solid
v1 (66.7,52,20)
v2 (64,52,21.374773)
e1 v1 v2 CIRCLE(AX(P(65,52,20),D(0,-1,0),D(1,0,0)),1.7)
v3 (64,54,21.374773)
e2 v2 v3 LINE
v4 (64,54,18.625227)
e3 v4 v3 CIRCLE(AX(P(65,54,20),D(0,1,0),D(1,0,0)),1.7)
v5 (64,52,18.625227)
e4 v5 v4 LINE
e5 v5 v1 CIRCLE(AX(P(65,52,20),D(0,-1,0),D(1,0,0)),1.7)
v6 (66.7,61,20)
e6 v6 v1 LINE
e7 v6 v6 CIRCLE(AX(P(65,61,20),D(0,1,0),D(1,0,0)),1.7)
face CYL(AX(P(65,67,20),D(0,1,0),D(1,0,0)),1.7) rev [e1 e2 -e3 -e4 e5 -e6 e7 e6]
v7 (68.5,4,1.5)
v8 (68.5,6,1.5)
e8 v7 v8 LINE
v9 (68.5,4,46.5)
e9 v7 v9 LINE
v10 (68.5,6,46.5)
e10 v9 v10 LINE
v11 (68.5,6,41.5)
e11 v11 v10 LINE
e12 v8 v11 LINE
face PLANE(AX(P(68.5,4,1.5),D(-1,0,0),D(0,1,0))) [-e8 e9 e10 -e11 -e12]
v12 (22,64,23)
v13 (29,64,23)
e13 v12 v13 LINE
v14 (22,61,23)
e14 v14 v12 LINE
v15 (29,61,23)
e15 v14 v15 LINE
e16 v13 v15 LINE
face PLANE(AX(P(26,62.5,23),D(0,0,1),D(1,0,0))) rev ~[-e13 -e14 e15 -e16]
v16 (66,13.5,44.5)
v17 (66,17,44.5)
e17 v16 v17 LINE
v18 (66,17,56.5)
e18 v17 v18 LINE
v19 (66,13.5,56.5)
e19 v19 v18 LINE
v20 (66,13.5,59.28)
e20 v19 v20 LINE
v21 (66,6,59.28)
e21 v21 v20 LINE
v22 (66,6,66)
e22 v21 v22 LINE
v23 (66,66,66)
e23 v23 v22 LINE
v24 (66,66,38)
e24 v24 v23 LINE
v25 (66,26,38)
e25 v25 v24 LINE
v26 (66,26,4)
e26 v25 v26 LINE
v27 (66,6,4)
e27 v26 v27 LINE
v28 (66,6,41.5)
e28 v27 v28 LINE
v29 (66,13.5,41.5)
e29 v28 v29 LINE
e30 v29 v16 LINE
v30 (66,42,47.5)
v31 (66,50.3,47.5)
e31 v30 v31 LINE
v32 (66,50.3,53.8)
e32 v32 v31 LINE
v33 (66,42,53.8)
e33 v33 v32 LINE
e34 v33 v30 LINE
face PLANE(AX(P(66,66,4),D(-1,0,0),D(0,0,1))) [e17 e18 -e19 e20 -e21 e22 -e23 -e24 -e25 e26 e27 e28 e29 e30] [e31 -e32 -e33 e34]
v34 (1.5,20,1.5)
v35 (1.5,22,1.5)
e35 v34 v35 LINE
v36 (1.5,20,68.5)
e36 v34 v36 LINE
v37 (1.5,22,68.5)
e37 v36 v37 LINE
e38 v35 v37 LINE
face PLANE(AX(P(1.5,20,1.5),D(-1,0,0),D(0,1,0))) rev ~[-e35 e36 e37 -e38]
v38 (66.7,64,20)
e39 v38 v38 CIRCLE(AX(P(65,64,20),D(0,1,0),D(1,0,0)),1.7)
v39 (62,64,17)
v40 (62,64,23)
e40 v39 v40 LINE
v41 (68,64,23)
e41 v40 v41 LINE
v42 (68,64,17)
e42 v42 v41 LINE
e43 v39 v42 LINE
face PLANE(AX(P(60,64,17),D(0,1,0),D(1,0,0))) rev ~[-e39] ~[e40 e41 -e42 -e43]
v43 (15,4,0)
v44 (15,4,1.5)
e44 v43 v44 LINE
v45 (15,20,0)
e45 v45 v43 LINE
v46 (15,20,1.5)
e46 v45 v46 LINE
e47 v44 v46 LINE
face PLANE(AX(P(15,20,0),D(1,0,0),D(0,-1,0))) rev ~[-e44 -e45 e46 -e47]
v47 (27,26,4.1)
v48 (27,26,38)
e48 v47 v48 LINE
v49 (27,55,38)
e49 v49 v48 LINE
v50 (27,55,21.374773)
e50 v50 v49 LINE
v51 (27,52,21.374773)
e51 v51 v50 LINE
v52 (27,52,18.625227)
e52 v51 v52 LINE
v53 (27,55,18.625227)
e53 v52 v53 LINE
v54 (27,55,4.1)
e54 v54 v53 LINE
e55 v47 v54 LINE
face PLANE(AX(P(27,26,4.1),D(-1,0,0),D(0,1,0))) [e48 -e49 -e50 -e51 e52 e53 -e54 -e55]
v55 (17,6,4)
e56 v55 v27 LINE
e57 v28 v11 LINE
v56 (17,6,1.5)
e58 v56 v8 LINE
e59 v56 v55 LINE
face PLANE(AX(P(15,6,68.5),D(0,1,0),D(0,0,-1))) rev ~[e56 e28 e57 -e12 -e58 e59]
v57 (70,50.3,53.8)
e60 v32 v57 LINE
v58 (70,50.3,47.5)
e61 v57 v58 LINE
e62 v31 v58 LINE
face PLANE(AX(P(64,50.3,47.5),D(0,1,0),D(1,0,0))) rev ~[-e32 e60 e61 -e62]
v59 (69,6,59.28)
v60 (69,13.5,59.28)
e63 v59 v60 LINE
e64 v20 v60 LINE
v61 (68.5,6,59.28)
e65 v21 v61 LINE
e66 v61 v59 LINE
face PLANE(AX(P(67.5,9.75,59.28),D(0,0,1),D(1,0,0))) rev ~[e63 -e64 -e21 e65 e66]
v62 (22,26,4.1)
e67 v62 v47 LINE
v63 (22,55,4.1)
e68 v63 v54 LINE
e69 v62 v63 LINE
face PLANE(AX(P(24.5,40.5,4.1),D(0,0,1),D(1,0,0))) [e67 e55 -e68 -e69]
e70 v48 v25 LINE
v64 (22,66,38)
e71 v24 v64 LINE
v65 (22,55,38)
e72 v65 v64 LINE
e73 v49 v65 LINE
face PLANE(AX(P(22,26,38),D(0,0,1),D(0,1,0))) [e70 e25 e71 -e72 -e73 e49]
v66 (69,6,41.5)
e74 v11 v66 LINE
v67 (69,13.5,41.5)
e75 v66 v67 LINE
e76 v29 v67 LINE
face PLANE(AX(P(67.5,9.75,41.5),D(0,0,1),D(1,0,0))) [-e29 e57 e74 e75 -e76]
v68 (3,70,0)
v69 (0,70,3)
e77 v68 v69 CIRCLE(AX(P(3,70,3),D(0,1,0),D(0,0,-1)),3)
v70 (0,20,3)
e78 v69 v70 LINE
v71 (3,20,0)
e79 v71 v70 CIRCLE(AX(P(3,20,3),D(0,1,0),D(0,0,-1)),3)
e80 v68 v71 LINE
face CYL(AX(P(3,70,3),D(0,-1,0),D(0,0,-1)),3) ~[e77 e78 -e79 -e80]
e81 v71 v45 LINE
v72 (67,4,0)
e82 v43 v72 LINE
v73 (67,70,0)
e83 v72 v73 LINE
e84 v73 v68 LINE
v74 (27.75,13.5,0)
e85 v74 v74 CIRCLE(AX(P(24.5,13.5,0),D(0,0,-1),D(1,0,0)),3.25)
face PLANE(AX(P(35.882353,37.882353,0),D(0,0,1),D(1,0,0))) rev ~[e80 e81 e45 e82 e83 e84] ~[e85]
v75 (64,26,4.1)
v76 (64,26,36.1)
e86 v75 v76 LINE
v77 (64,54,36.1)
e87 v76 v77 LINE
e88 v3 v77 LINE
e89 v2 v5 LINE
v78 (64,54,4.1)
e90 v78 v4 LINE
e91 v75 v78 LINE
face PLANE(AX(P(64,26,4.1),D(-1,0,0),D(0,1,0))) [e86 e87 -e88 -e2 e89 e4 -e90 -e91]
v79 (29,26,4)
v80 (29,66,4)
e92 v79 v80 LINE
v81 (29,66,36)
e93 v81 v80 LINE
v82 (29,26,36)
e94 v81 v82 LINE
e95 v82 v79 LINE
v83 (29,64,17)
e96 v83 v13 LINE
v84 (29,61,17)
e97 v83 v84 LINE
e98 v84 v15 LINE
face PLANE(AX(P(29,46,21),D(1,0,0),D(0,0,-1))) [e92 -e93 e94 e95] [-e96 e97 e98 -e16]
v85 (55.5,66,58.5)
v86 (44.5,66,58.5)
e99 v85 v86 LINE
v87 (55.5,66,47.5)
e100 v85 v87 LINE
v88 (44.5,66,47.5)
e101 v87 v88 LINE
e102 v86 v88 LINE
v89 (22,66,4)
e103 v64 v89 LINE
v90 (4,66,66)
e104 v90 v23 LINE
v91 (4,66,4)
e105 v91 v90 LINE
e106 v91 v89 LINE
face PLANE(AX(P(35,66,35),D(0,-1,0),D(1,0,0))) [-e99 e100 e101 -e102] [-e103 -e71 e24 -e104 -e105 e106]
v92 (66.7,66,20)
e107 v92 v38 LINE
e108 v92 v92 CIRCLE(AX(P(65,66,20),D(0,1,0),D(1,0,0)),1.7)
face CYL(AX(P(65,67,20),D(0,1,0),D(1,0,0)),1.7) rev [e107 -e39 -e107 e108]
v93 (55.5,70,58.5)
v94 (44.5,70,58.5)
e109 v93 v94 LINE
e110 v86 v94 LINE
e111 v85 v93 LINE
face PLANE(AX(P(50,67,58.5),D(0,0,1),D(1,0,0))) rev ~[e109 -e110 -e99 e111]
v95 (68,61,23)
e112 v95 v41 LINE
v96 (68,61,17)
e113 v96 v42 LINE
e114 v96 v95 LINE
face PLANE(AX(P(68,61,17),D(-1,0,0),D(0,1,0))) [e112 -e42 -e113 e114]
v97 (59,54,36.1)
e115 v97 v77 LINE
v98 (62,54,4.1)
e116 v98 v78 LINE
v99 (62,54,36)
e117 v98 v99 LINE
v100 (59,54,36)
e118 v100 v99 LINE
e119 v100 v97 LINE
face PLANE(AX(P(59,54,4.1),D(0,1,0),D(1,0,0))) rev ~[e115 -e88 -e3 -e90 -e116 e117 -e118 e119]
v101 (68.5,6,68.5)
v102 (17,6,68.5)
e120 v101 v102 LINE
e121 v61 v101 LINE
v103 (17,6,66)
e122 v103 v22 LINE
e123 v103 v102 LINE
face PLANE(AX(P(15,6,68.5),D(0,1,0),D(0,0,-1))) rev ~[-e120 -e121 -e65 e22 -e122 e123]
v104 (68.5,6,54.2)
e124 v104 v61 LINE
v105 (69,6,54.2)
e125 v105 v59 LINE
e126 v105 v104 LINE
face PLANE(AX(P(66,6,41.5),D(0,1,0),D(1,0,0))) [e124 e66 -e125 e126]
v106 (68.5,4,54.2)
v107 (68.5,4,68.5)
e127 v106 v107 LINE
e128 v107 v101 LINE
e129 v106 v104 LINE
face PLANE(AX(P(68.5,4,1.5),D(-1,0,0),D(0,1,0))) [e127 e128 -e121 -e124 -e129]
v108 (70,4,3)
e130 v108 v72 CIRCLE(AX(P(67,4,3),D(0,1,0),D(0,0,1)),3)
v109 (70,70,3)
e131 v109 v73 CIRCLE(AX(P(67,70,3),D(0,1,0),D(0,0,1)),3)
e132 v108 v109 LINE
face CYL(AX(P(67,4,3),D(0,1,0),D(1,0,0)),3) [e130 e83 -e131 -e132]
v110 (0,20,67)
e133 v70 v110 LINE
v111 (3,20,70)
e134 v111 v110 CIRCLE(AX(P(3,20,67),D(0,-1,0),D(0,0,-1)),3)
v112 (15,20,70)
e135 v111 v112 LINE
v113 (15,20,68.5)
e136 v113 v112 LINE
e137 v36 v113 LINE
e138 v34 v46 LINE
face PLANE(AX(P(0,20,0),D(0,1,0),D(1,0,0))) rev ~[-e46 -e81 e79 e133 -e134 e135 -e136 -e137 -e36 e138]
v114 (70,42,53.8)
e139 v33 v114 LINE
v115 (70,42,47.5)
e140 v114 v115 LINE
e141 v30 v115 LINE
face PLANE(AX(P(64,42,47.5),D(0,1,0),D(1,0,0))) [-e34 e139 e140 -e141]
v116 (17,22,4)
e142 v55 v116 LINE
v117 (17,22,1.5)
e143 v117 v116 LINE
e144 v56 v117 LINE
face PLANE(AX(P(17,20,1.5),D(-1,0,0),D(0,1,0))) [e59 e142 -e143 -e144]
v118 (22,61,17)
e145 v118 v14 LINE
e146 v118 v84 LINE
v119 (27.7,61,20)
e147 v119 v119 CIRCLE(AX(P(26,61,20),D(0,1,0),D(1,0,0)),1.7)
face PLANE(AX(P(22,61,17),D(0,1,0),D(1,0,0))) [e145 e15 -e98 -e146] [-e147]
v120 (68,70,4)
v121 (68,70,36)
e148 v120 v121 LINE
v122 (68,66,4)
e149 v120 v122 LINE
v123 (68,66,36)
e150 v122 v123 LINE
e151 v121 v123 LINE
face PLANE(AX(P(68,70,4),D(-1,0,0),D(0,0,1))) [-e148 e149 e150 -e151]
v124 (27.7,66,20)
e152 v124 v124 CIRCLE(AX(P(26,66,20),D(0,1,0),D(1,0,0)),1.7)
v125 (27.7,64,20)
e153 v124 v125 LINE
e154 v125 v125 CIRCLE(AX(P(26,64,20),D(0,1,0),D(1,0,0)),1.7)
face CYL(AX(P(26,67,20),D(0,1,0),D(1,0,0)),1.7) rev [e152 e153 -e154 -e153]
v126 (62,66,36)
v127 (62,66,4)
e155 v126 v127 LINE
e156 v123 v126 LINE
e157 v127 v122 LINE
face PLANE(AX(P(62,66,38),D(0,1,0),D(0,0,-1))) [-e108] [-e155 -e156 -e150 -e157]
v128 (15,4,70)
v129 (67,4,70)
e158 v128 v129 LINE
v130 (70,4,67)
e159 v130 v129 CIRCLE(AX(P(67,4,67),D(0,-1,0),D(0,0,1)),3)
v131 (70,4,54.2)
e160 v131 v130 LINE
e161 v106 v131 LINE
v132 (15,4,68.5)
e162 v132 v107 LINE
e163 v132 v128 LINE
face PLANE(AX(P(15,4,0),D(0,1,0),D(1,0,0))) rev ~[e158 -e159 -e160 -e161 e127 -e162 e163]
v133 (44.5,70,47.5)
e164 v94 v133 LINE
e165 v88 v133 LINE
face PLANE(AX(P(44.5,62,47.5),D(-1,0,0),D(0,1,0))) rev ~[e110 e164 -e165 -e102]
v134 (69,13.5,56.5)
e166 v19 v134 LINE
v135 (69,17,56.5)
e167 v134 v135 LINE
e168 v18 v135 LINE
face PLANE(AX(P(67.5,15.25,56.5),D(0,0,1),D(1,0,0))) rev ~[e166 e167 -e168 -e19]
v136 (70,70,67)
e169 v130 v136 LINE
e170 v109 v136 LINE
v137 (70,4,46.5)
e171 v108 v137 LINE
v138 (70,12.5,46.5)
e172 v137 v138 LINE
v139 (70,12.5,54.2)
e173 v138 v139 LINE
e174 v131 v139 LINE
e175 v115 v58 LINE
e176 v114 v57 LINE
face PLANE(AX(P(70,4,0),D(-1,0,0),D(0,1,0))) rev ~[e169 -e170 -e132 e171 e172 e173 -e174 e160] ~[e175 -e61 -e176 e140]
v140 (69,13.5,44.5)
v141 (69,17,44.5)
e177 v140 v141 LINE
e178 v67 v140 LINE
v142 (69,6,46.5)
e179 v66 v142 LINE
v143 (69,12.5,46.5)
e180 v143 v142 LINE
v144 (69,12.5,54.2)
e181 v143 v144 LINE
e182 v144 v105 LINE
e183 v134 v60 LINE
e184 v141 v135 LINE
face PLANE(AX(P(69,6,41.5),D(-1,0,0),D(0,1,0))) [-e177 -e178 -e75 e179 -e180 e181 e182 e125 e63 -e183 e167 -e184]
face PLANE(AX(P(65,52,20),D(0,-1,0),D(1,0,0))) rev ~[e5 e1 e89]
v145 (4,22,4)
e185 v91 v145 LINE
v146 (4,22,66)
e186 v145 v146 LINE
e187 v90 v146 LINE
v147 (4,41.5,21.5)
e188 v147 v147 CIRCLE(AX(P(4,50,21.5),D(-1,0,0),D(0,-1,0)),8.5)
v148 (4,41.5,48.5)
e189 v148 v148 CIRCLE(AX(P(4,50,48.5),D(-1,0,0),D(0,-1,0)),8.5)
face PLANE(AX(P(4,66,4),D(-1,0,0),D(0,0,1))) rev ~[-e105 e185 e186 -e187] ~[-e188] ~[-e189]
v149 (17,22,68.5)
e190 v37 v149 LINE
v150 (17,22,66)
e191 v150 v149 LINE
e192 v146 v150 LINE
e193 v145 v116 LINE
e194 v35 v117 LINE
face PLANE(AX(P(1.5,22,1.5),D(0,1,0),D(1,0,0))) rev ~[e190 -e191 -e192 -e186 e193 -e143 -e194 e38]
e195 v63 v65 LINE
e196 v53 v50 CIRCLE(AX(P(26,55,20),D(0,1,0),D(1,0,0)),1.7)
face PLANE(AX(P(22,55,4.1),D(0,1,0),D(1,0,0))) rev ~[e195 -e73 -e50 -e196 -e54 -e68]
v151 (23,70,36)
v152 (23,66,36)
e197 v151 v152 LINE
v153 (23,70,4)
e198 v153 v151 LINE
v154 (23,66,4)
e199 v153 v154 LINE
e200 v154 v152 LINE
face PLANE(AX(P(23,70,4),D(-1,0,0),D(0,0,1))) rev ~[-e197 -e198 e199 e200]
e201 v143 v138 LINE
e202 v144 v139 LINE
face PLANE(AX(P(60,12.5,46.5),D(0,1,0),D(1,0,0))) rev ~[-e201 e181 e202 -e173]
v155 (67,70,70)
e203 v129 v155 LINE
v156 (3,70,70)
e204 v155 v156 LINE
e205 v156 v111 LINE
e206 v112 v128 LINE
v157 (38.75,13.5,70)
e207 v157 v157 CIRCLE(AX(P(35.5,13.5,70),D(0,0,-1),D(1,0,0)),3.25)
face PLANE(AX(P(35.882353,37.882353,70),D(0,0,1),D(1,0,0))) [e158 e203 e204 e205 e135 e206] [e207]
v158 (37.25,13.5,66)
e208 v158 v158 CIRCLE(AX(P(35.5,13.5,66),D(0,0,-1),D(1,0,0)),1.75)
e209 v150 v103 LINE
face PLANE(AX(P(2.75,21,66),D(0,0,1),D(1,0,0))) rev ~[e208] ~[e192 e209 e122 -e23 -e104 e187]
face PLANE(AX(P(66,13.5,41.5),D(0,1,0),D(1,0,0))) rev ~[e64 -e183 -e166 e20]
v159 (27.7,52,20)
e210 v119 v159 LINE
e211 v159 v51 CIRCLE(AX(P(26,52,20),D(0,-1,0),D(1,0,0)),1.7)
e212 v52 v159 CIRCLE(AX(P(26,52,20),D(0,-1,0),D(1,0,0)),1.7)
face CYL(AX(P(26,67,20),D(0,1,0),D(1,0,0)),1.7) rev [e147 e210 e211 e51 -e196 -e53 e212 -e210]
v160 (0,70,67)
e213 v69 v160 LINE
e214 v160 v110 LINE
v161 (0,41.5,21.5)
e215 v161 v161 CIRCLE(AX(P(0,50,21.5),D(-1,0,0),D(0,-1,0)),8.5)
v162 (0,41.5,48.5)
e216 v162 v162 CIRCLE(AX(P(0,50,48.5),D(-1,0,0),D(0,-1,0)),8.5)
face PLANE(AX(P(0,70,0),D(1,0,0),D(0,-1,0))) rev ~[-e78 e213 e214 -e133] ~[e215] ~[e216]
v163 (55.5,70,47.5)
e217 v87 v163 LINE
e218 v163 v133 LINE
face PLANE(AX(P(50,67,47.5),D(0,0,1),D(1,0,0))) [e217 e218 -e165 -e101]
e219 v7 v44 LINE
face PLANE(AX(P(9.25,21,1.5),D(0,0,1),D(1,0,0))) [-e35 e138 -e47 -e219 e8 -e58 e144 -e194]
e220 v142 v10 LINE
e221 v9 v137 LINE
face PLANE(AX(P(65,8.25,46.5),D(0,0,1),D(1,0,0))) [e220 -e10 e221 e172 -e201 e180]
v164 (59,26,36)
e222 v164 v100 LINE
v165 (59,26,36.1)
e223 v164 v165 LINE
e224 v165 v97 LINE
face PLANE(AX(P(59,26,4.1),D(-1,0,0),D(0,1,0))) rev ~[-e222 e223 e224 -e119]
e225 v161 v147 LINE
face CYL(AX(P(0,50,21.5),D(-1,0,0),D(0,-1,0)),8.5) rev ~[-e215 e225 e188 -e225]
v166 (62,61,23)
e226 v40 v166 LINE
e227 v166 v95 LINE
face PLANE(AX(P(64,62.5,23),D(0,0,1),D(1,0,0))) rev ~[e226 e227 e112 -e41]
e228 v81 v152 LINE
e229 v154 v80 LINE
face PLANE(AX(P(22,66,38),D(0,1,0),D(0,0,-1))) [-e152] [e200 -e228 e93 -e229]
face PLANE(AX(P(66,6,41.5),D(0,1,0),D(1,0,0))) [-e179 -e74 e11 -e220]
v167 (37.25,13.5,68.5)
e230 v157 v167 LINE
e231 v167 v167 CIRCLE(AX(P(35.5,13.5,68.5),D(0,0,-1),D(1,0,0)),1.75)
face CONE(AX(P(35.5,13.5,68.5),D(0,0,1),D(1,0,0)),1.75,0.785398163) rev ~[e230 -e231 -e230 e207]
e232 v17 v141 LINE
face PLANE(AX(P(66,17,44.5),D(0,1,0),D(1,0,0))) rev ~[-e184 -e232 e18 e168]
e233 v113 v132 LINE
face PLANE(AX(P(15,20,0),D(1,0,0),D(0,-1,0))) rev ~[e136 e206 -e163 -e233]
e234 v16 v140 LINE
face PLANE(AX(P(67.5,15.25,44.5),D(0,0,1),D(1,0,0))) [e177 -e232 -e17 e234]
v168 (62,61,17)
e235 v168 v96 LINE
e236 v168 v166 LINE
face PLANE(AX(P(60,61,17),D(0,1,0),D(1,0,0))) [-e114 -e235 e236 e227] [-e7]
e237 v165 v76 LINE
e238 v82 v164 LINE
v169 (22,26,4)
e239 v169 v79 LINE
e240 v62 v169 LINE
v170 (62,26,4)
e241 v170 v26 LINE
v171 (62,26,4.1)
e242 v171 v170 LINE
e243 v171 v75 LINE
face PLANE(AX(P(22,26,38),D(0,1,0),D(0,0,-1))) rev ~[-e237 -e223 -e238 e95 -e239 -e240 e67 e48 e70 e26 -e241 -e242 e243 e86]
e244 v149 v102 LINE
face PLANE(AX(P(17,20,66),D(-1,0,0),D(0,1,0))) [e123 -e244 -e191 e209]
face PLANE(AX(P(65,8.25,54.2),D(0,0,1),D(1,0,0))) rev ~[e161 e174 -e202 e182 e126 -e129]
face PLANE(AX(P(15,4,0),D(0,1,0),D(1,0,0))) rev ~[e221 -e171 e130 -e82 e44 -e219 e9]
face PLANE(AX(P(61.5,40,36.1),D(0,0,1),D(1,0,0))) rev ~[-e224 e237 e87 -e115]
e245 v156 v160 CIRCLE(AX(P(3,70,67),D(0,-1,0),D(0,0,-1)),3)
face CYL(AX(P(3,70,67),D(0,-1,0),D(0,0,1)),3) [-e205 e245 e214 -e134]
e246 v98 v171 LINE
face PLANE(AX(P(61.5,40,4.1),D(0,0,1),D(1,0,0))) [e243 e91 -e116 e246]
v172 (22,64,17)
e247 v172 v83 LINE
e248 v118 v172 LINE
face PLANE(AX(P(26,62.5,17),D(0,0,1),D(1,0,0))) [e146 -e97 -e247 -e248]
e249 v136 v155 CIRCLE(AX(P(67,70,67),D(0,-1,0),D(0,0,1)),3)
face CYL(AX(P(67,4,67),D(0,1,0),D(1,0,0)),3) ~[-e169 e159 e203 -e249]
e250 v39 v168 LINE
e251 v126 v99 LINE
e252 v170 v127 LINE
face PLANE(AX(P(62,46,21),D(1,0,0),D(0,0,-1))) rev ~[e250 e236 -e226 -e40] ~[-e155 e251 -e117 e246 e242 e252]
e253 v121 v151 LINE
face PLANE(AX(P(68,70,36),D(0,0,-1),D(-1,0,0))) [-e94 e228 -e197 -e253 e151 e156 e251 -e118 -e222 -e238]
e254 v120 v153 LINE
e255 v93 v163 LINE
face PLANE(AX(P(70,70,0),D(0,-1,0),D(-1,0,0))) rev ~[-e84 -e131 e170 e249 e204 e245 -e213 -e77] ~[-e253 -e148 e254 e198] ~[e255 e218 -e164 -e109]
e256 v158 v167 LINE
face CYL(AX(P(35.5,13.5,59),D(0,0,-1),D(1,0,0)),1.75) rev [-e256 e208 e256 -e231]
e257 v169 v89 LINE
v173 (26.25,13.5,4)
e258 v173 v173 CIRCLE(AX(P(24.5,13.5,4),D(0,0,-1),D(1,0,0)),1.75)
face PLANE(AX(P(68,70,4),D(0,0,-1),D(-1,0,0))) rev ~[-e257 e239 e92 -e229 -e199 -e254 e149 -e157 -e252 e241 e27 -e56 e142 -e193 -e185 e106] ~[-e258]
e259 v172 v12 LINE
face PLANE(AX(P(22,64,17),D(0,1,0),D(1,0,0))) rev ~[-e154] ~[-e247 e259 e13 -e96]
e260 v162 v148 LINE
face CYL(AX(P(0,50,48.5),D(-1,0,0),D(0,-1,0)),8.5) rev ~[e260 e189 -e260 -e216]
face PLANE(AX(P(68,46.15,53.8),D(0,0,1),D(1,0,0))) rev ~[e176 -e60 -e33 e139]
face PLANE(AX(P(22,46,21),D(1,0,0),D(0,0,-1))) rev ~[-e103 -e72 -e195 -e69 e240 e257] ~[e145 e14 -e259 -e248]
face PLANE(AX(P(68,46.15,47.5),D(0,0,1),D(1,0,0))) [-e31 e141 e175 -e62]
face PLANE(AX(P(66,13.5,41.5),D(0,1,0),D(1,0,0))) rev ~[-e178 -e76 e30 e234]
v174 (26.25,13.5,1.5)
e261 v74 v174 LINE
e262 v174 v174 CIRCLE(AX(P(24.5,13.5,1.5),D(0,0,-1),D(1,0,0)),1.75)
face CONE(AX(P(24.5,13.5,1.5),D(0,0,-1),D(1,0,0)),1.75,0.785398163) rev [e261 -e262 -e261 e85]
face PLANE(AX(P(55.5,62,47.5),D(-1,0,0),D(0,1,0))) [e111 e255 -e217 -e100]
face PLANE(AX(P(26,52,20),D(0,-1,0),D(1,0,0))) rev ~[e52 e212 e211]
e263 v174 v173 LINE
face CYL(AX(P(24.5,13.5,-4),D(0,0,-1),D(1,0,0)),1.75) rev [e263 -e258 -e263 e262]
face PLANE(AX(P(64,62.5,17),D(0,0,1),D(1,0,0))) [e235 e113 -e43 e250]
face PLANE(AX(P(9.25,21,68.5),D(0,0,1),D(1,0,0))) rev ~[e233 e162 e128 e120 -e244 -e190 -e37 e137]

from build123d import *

# Parameters (mm, degrees)
BOX079_W               = 5
BOX079_H               = 29
BOX079_DEPTH           = 34
BOX078_W               = 5
BOX078_H               = 28
BOX078_DEPTH           = 32
BOX077_W               = 8
BOX077_H               = 8.3
BOX077_DEPTH           = 6.3
BOX075_W               = 11
BOX075_H               = 10
BOX075_DEPTH           = 11
BOX066_W               = 3
BOX066_H               = 3.5
BOX066_DEPTH           = 12
BOX065_W               = 3
BOX065_H               = 7.5
BOX065_DEPTH           = 17.78
BOX064_W               = 10
BOX064_H               = 8.5
BOX064_DEPTH           = 7.7
CYLINDER036_R          = 1.75
CYLINDER036_DEPTH      = 15
CYLINDER035_R          = 1.75
CYLINDER035_DEPTH      = 15
BOX035_W               = 8
BOX035_H               = 3
BOX035_DEPTH           = 6
BOX034_W               = 8
BOX034_H               = 3
BOX034_DEPTH           = 6
CYLINDER016_R          = 1.7
CYLINDER016_DEPTH      = 15
CYLINDER016_ROLL_ANGLE = 90
CYLINDER015_R          = 1.7
CYLINDER015_DEPTH      = 15
CYLINDER015_ROLL_ANGLE = 90
BOX031_W               = 39
BOX031_H               = 40
BOX031_DEPTH           = 2
BOX032_W               = 34
BOX032_H               = 40
BOX032_DEPTH           = 7
BOX032_PITCH_ANGLE     = 90
BOX033_W               = 34
BOX033_H               = 40
BOX033_DEPTH           = 4
BOX033_PITCH_ANGLE     = 90
BOX028_W               = 15.5
BOX028_H               = 2
BOX028_DEPTH           = 2.5
BOX027_W               = 15.5
BOX027_H               = 2
BOX027_DEPTH           = 2.5
BOX026_W               = 2
BOX026_H               = 2.5
BOX026_DEPTH           = 14
BOX026_ROLL_ANGLE      = 90
BOX025_W               = 2
BOX025_H               = 2.5
BOX025_DEPTH           = 14
BOX025_ROLL_ANGLE      = 90
BOX024_W               = 2.5
BOX024_H               = 2
BOX024_DEPTH           = 51
BOX024_PITCH_ANGLE     = 90
BOX023_W               = 2.5
BOX023_H               = 2
BOX023_DEPTH           = 51
BOX023_PITCH_ANGLE     = 90
BOX022_W               = 2.5
BOX022_H               = 2
BOX022_DEPTH           = 62
BOX021_W               = 2.5
BOX021_H               = 2
BOX021_DEPTH           = 67
BOX020_W               = 62
BOX020_H               = 62
BOX020_DEPTH           = 62
BOX020_ROLL_ANGLE      = 90
PAD005_DEPTH           = 70
SKETCH010_R            = 8.5
POCKET002004_DEPTH     = 5
SKETCH011_W            = 45
SKETCH011_H            = 32
POCKET002005_DEPTH     = 4
FILLET_R               = 3
CHAMFER007_SIZE        = 1.5


with BuildPart() as cube078:
    # Box079 → Box079 (new body)
    with BuildSketch(Plane(origin=(22, 26, 4.1), x_dir=(1, 0, 0), z_dir=(0, 0, 1))):
        with Locations((2.5, 14.5)):
            Rectangle(BOX079_W, BOX079_H)
    extrude(amount=BOX079_DEPTH)


with BuildPart() as cube077:
    # Box078 → Box078 (new body)
    with BuildSketch(Plane(origin=(59, 26, 4.1), x_dir=(1, 0, 0), z_dir=(0, 0, 1))):
        with Locations((2.5, 14)):
            Rectangle(BOX078_W, BOX078_H)
    extrude(amount=BOX078_DEPTH)


with BuildPart() as cube076:
    # Box077 → Box077 (new body)
    with BuildSketch(Plane(origin=(64, 42, 47.5), x_dir=(1, 0, 0), z_dir=(0, 0, 1))):
        with Locations((4, 4.15)):
            Rectangle(BOX077_W, BOX077_H)
    extrude(amount=BOX077_DEPTH)


with BuildPart() as cube074:
    # Box075 → Box075 (new body)
    with BuildSketch(Plane(origin=(44.5, 62, 47.5), x_dir=(1, 0, 0), z_dir=(0, 0, 1))):
        with Locations((5.5, 5)):
            Rectangle(BOX075_W, BOX075_H)
    extrude(amount=BOX075_DEPTH)


with BuildPart() as cube065:
    # Box066 → Box066 (new body)
    with BuildSketch(Plane(origin=(66, 13.5, 44.5), x_dir=(1, 0, 0), z_dir=(0, 0, 1))):
        with Locations((1.5, 1.75)):
            Rectangle(BOX066_W, BOX066_H)
    extrude(amount=BOX066_DEPTH)


with BuildPart() as cube064:
    # Box065 → Box065 (new body)
    with BuildSketch(Plane(origin=(66, 6, 41.5), x_dir=(1, 0, 0), z_dir=(0, 0, 1))):
        with Locations((1.5, 3.75)):
            Rectangle(BOX065_W, BOX065_H)
    extrude(amount=BOX065_DEPTH)


with BuildPart() as cube063:
    # Box064 → Box064 (new body)
    with BuildSketch(Plane(origin=(60, 4, 46.5), x_dir=(1, 0, 0), z_dir=(0, 0, 1))):
        with Locations((5, 4.25)):
            Rectangle(BOX064_W, BOX064_H)
    extrude(amount=BOX064_DEPTH)


with BuildPart() as cylinder068:
    # Cylinder036 → Cylinder036 (new body)
    with BuildSketch(Plane(origin=(24.5, 13.5, -4), x_dir=(1, 0, 0), z_dir=(0, 0, 1))):
        Circle(CYLINDER036_R)
    extrude(amount=CYLINDER036_DEPTH)


with BuildPart() as cylinder067:
    # Cylinder035 → Cylinder035 (new body)
    with BuildSketch(Plane(origin=(35.5, 13.5, 59), x_dir=(1, 0, 0), z_dir=(0, 0, 1))):
        Circle(CYLINDER035_R)
    extrude(amount=CYLINDER035_DEPTH)


with BuildPart() as cube035:
    # Box035 → Box035 (new body)
    with BuildSketch(Plane(origin=(22, 61, 17), x_dir=(1, 0, 0), z_dir=(0, 0, 1))):
        with Locations((4, 1.5)):
            Rectangle(BOX035_W, BOX035_H)
    extrude(amount=BOX035_DEPTH)


with BuildPart() as cube034:
    # Box034 → Box034 (new body)
    with BuildSketch(Plane(origin=(60, 61, 17), x_dir=(1, 0, 0), z_dir=(0, 0, 1))):
        with Locations((4, 1.5)):
            Rectangle(BOX034_W, BOX034_H)
    extrude(amount=BOX034_DEPTH)


with BuildPart() as cylinder051:
    # Cylinder016 → Cylinder016 (new body)
    with BuildSketch(Plane.XY):
        Circle(CYLINDER016_R)
    extrude(amount=CYLINDER016_DEPTH)


with BuildPart() as cylinder051_1:
    # Cylinder016 roll: moved
    add(cylinder051.part.rotate(Axis((0, 0, 0), (1, 0, 0)), CYLINDER016_ROLL_ANGLE))


with BuildPart() as cylinder051_2:
    # Cylinder016 placement: moved
    add(cylinder051_1.part.moved(Location((26, 67, 20))))


with BuildPart() as cylinder050:
    # Cylinder015 → Cylinder015 (new body)
    with BuildSketch(Plane.XY):
        Circle(CYLINDER015_R)
    extrude(amount=CYLINDER015_DEPTH)


with BuildPart() as cylinder050_1:
    # Cylinder015 roll: moved
    add(cylinder050.part.rotate(Axis((0, 0, 0), (1, 0, 0)), CYLINDER015_ROLL_ANGLE))


with BuildPart() as cylinder050_2:
    # Cylinder015 placement: moved
    add(cylinder050_1.part.moved(Location((65, 67, 20))))


with BuildPart() as cube031:
    # Box031 → Box031 (new body)
    with BuildSketch(Plane(origin=(25, 26, 36), x_dir=(1, 0, 0), z_dir=(0, 0, 1))):
        with Locations((19.5, 20)):
            Rectangle(BOX031_W, BOX031_H)
    extrude(amount=BOX031_DEPTH)


with BuildPart() as cube032:
    # Box032 → Box032 (new body)
    with BuildSketch(Plane.XY):
        with Locations((17, 20)):
            Rectangle(BOX032_W, BOX032_H)
    extrude(amount=BOX032_DEPTH)


with BuildPart() as cube032_1:
    # Box032 pitch: moved
    add(cube032.part.rotate(Axis((0, 0, 0), (0, 1, 0)), BOX032_PITCH_ANGLE))


with BuildPart() as cube032_2:
    # Box032 placement: moved
    add(cube032_1.part.moved(Location((22, 26, 38))))


with BuildPart() as cube033:
    # Box033 → Box033 (new body)
    with BuildSketch(Plane.XY):
        with Locations((17, 20)):
            Rectangle(BOX033_W, BOX033_H)
    extrude(amount=BOX033_DEPTH)


with BuildPart() as cube033_1:
    # Box033 pitch: moved
    add(cube033.part.rotate(Axis((0, 0, 0), (0, 1, 0)), BOX033_PITCH_ANGLE))


with BuildPart() as cube033_2:
    # Box033 placement: moved
    add(cube033_1.part.moved(Location((62, 26, 38))))


with BuildPart() as cube028:
    # Box028 → Box028 (new body)
    with BuildSketch(Plane(origin=(1.5, 20, 66), x_dir=(1, 0, 0), z_dir=(0, 0, 1))):
        with Locations((7.75, 1)):
            Rectangle(BOX028_W, BOX028_H)
    extrude(amount=BOX028_DEPTH)


with BuildPart() as cube027:
    # Box027 → Box027 (new body)
    with BuildSketch(Plane(origin=(1.5, 20, 1.5), x_dir=(1, 0, 0), z_dir=(0, 0, 1))):
        with Locations((7.75, 1)):
            Rectangle(BOX027_W, BOX027_H)
    extrude(amount=BOX027_DEPTH)


with BuildPart() as cube026:
    # Box026 → Box026 (new body)
    with BuildSketch(Plane.XY):
        with Locations((1, 1.25)):
            Rectangle(BOX026_W, BOX026_H)
    extrude(amount=BOX026_DEPTH)


with BuildPart() as cube026_1:
    # Box026 roll: moved
    add(cube026.part.rotate(Axis((0, 0, 0), (1, 0, 0)), BOX026_ROLL_ANGLE))


with BuildPart() as cube026_2:
    # Box026 placement: moved
    add(cube026_1.part.moved(Location((15, 20, 1.5))))


with BuildPart() as cube025:
    # Box025 → Box025 (new body)
    with BuildSketch(Plane.XY):
        with Locations((1, 1.25)):
            Rectangle(BOX025_W, BOX025_H)
    extrude(amount=BOX025_DEPTH)


with BuildPart() as cube025_1:
    # Box025 roll: moved
    add(cube025.part.rotate(Axis((0, 0, 0), (1, 0, 0)), BOX025_ROLL_ANGLE))


with BuildPart() as cube025_2:
    # Box025 placement: moved
    add(cube025_1.part.moved(Location((15, 20, 66))))


with BuildPart() as cube024:
    # Box024 → Box024 (new body)
    with BuildSketch(Plane.XY):
        with Locations((1.25, 1)):
            Rectangle(BOX024_W, BOX024_H)
    extrude(amount=BOX024_DEPTH)


with BuildPart() as cube024_1:
    # Box024 pitch: moved
    add(cube024.part.rotate(Axis((0, 0, 0), (0, 1, 0)), BOX024_PITCH_ANGLE))


with BuildPart() as cube024_2:
    # Box024 placement: moved
    add(cube024_1.part.moved(Location((15, 4, 68.5))))


with BuildPart() as cube023:
    # Box023 → Box023 (new body)
    with BuildSketch(Plane.XY):
        with Locations((1.25, 1)):
            Rectangle(BOX023_W, BOX023_H)
    extrude(amount=BOX023_DEPTH)


with BuildPart() as cube023_1:
    # Box023 pitch: moved
    add(cube023.part.rotate(Axis((0, 0, 0), (0, 1, 0)), BOX023_PITCH_ANGLE))


with BuildPart() as cube023_2:
    # Box023 placement: moved
    add(cube023_1.part.moved(Location((15, 4, 4))))


with BuildPart() as cube022:
    # Box022 → Box022 (new body)
    with BuildSketch(Plane(origin=(1.5, 20, 4), x_dir=(1, 0, 0), z_dir=(0, 0, 1))):
        with Locations((1.25, 1)):
            Rectangle(BOX022_W, BOX022_H)
    extrude(amount=BOX022_DEPTH)


with BuildPart() as cube021:
    # Box021 → Box021 (new body)
    with BuildSketch(Plane(origin=(66, 4, 1.5), x_dir=(1, 0, 0), z_dir=(0, 0, 1))):
        with Locations((1.25, 1)):
            Rectangle(BOX021_W, BOX021_H)
    extrude(amount=BOX021_DEPTH)


with BuildPart() as cube020:
    # Box020 → Box020 (new body)
    with BuildSketch(Plane.XY):
        with Locations((31, 31)):
            Rectangle(BOX020_W, BOX020_H)
    extrude(amount=BOX020_DEPTH)


with BuildPart() as cube020_1:
    # Box020 roll: moved
    add(cube020.part.rotate(Axis((0, 0, 0), (1, 0, 0)), BOX020_ROLL_ANGLE))


with BuildPart() as cube020_2:
    # Box020 placement: moved
    add(cube020_1.part.moved(Location((4, 66, 4))))


with BuildPart() as cut094:
    # Sketch009 → Pad005 (new body)
    with BuildSketch(Plane.XY):
        Polygon((0, 20), (15, 20), (15, 4), (70, 4), (70, 70), (0, 70), align=None)
    extrude(amount=PAD005_DEPTH)

    # Cut024: cut Cube020
    add(cube020_2.part, mode=Mode.SUBTRACT)

    # Cut025: cut Cube021
    add(cube021.part, mode=Mode.SUBTRACT)

    # Cut026: cut Cube022
    add(cube022.part, mode=Mode.SUBTRACT)

    # Cut027: cut Cube023
    add(cube023_2.part, mode=Mode.SUBTRACT)

    # Cut028: cut Cube024
    add(cube024_2.part, mode=Mode.SUBTRACT)

    # Cut029: cut Cube025
    add(cube025_2.part, mode=Mode.SUBTRACT)

    # Cut030: cut Cube026
    add(cube026_2.part, mode=Mode.SUBTRACT)

    # Cut031: cut Cube027
    add(cube027.part, mode=Mode.SUBTRACT)

    # Cut032: cut Cube028
    add(cube028.part, mode=Mode.SUBTRACT)

    # Sketch010 → Pocket002004 (cut)
    with BuildSketch(Plane(origin=(0, 0, 0), x_dir=(0, -1, 0), z_dir=(-1, 0, 0))):
        with Locations((-50, 21.5)):
            Circle(SKETCH010_R)
        with Locations((-50, 48.5)):
            Circle(SKETCH010_R)
    extrude(amount=-POCKET002004_DEPTH, mode=Mode.SUBTRACT)

    # Sketch011 → Pocket002005 (cut)
    with BuildSketch(Plane(origin=(0, 70, 0), x_dir=(-1, 0, 0), z_dir=(0, 1, 0))):
        with Locations((-45.5, 20)):
            Rectangle(SKETCH011_W, SKETCH011_H)
    extrude(amount=-POCKET002005_DEPTH, mode=Mode.SUBTRACT)

    # Fusion007: union Cube031, Cube032, Cube033
    add(cube031.part)
    add(cube032_2.part)
    add(cube033_2.part)

    # Cut033: cut Cylinder050
    add(cylinder050_2.part, mode=Mode.SUBTRACT)

    # Cut034: cut Cylinder051
    add(cylinder051_2.part, mode=Mode.SUBTRACT)

    # Cut035: cut Cube034
    add(cube034.part, mode=Mode.SUBTRACT)

    # Cut036: cut Cube035
    add(cube035.part, mode=Mode.SUBTRACT)

    # Fillet
    fillet_edges = [cut094.edges().sort_by_distance(p)[0] for p in [
        (70, 37, 0),
        (0, 45, 0),
        (70, 37, 70),
        (0, 45, 70),
    ]]
    fillet(fillet_edges, radius=FILLET_R)

    # Cut072: cut Cylinder067
    add(cylinder067.part, mode=Mode.SUBTRACT)

    # Cut073: cut Cylinder068
    add(cylinder068.part, mode=Mode.SUBTRACT)

    # Chamfer007
    chamfer007_edges = [cut094.edges().sort_by_distance(p)[0] for p in [
        (33.75, 13.5, 70),
        (22.75, 13.5, 0),
    ]]
    chamfer(chamfer007_edges, length=CHAMFER007_SIZE)

    # Cut076: cut Cube063
    add(cube063.part, mode=Mode.SUBTRACT)

    # Cut077: cut Cube064
    add(cube064.part, mode=Mode.SUBTRACT)

    # Cut078: cut Cube065
    add(cube065.part, mode=Mode.SUBTRACT)

    # Cut085: cut Cube074
    add(cube074.part, mode=Mode.SUBTRACT)

    # Cut087: cut Cube076
    add(cube076.part, mode=Mode.SUBTRACT)

    # Cut088: cut Cube077
    add(cube077.part, mode=Mode.SUBTRACT)

    # Cut089: cut Cube078
    add(cube078.part, mode=Mode.SUBTRACT)


solid = cut094.part
